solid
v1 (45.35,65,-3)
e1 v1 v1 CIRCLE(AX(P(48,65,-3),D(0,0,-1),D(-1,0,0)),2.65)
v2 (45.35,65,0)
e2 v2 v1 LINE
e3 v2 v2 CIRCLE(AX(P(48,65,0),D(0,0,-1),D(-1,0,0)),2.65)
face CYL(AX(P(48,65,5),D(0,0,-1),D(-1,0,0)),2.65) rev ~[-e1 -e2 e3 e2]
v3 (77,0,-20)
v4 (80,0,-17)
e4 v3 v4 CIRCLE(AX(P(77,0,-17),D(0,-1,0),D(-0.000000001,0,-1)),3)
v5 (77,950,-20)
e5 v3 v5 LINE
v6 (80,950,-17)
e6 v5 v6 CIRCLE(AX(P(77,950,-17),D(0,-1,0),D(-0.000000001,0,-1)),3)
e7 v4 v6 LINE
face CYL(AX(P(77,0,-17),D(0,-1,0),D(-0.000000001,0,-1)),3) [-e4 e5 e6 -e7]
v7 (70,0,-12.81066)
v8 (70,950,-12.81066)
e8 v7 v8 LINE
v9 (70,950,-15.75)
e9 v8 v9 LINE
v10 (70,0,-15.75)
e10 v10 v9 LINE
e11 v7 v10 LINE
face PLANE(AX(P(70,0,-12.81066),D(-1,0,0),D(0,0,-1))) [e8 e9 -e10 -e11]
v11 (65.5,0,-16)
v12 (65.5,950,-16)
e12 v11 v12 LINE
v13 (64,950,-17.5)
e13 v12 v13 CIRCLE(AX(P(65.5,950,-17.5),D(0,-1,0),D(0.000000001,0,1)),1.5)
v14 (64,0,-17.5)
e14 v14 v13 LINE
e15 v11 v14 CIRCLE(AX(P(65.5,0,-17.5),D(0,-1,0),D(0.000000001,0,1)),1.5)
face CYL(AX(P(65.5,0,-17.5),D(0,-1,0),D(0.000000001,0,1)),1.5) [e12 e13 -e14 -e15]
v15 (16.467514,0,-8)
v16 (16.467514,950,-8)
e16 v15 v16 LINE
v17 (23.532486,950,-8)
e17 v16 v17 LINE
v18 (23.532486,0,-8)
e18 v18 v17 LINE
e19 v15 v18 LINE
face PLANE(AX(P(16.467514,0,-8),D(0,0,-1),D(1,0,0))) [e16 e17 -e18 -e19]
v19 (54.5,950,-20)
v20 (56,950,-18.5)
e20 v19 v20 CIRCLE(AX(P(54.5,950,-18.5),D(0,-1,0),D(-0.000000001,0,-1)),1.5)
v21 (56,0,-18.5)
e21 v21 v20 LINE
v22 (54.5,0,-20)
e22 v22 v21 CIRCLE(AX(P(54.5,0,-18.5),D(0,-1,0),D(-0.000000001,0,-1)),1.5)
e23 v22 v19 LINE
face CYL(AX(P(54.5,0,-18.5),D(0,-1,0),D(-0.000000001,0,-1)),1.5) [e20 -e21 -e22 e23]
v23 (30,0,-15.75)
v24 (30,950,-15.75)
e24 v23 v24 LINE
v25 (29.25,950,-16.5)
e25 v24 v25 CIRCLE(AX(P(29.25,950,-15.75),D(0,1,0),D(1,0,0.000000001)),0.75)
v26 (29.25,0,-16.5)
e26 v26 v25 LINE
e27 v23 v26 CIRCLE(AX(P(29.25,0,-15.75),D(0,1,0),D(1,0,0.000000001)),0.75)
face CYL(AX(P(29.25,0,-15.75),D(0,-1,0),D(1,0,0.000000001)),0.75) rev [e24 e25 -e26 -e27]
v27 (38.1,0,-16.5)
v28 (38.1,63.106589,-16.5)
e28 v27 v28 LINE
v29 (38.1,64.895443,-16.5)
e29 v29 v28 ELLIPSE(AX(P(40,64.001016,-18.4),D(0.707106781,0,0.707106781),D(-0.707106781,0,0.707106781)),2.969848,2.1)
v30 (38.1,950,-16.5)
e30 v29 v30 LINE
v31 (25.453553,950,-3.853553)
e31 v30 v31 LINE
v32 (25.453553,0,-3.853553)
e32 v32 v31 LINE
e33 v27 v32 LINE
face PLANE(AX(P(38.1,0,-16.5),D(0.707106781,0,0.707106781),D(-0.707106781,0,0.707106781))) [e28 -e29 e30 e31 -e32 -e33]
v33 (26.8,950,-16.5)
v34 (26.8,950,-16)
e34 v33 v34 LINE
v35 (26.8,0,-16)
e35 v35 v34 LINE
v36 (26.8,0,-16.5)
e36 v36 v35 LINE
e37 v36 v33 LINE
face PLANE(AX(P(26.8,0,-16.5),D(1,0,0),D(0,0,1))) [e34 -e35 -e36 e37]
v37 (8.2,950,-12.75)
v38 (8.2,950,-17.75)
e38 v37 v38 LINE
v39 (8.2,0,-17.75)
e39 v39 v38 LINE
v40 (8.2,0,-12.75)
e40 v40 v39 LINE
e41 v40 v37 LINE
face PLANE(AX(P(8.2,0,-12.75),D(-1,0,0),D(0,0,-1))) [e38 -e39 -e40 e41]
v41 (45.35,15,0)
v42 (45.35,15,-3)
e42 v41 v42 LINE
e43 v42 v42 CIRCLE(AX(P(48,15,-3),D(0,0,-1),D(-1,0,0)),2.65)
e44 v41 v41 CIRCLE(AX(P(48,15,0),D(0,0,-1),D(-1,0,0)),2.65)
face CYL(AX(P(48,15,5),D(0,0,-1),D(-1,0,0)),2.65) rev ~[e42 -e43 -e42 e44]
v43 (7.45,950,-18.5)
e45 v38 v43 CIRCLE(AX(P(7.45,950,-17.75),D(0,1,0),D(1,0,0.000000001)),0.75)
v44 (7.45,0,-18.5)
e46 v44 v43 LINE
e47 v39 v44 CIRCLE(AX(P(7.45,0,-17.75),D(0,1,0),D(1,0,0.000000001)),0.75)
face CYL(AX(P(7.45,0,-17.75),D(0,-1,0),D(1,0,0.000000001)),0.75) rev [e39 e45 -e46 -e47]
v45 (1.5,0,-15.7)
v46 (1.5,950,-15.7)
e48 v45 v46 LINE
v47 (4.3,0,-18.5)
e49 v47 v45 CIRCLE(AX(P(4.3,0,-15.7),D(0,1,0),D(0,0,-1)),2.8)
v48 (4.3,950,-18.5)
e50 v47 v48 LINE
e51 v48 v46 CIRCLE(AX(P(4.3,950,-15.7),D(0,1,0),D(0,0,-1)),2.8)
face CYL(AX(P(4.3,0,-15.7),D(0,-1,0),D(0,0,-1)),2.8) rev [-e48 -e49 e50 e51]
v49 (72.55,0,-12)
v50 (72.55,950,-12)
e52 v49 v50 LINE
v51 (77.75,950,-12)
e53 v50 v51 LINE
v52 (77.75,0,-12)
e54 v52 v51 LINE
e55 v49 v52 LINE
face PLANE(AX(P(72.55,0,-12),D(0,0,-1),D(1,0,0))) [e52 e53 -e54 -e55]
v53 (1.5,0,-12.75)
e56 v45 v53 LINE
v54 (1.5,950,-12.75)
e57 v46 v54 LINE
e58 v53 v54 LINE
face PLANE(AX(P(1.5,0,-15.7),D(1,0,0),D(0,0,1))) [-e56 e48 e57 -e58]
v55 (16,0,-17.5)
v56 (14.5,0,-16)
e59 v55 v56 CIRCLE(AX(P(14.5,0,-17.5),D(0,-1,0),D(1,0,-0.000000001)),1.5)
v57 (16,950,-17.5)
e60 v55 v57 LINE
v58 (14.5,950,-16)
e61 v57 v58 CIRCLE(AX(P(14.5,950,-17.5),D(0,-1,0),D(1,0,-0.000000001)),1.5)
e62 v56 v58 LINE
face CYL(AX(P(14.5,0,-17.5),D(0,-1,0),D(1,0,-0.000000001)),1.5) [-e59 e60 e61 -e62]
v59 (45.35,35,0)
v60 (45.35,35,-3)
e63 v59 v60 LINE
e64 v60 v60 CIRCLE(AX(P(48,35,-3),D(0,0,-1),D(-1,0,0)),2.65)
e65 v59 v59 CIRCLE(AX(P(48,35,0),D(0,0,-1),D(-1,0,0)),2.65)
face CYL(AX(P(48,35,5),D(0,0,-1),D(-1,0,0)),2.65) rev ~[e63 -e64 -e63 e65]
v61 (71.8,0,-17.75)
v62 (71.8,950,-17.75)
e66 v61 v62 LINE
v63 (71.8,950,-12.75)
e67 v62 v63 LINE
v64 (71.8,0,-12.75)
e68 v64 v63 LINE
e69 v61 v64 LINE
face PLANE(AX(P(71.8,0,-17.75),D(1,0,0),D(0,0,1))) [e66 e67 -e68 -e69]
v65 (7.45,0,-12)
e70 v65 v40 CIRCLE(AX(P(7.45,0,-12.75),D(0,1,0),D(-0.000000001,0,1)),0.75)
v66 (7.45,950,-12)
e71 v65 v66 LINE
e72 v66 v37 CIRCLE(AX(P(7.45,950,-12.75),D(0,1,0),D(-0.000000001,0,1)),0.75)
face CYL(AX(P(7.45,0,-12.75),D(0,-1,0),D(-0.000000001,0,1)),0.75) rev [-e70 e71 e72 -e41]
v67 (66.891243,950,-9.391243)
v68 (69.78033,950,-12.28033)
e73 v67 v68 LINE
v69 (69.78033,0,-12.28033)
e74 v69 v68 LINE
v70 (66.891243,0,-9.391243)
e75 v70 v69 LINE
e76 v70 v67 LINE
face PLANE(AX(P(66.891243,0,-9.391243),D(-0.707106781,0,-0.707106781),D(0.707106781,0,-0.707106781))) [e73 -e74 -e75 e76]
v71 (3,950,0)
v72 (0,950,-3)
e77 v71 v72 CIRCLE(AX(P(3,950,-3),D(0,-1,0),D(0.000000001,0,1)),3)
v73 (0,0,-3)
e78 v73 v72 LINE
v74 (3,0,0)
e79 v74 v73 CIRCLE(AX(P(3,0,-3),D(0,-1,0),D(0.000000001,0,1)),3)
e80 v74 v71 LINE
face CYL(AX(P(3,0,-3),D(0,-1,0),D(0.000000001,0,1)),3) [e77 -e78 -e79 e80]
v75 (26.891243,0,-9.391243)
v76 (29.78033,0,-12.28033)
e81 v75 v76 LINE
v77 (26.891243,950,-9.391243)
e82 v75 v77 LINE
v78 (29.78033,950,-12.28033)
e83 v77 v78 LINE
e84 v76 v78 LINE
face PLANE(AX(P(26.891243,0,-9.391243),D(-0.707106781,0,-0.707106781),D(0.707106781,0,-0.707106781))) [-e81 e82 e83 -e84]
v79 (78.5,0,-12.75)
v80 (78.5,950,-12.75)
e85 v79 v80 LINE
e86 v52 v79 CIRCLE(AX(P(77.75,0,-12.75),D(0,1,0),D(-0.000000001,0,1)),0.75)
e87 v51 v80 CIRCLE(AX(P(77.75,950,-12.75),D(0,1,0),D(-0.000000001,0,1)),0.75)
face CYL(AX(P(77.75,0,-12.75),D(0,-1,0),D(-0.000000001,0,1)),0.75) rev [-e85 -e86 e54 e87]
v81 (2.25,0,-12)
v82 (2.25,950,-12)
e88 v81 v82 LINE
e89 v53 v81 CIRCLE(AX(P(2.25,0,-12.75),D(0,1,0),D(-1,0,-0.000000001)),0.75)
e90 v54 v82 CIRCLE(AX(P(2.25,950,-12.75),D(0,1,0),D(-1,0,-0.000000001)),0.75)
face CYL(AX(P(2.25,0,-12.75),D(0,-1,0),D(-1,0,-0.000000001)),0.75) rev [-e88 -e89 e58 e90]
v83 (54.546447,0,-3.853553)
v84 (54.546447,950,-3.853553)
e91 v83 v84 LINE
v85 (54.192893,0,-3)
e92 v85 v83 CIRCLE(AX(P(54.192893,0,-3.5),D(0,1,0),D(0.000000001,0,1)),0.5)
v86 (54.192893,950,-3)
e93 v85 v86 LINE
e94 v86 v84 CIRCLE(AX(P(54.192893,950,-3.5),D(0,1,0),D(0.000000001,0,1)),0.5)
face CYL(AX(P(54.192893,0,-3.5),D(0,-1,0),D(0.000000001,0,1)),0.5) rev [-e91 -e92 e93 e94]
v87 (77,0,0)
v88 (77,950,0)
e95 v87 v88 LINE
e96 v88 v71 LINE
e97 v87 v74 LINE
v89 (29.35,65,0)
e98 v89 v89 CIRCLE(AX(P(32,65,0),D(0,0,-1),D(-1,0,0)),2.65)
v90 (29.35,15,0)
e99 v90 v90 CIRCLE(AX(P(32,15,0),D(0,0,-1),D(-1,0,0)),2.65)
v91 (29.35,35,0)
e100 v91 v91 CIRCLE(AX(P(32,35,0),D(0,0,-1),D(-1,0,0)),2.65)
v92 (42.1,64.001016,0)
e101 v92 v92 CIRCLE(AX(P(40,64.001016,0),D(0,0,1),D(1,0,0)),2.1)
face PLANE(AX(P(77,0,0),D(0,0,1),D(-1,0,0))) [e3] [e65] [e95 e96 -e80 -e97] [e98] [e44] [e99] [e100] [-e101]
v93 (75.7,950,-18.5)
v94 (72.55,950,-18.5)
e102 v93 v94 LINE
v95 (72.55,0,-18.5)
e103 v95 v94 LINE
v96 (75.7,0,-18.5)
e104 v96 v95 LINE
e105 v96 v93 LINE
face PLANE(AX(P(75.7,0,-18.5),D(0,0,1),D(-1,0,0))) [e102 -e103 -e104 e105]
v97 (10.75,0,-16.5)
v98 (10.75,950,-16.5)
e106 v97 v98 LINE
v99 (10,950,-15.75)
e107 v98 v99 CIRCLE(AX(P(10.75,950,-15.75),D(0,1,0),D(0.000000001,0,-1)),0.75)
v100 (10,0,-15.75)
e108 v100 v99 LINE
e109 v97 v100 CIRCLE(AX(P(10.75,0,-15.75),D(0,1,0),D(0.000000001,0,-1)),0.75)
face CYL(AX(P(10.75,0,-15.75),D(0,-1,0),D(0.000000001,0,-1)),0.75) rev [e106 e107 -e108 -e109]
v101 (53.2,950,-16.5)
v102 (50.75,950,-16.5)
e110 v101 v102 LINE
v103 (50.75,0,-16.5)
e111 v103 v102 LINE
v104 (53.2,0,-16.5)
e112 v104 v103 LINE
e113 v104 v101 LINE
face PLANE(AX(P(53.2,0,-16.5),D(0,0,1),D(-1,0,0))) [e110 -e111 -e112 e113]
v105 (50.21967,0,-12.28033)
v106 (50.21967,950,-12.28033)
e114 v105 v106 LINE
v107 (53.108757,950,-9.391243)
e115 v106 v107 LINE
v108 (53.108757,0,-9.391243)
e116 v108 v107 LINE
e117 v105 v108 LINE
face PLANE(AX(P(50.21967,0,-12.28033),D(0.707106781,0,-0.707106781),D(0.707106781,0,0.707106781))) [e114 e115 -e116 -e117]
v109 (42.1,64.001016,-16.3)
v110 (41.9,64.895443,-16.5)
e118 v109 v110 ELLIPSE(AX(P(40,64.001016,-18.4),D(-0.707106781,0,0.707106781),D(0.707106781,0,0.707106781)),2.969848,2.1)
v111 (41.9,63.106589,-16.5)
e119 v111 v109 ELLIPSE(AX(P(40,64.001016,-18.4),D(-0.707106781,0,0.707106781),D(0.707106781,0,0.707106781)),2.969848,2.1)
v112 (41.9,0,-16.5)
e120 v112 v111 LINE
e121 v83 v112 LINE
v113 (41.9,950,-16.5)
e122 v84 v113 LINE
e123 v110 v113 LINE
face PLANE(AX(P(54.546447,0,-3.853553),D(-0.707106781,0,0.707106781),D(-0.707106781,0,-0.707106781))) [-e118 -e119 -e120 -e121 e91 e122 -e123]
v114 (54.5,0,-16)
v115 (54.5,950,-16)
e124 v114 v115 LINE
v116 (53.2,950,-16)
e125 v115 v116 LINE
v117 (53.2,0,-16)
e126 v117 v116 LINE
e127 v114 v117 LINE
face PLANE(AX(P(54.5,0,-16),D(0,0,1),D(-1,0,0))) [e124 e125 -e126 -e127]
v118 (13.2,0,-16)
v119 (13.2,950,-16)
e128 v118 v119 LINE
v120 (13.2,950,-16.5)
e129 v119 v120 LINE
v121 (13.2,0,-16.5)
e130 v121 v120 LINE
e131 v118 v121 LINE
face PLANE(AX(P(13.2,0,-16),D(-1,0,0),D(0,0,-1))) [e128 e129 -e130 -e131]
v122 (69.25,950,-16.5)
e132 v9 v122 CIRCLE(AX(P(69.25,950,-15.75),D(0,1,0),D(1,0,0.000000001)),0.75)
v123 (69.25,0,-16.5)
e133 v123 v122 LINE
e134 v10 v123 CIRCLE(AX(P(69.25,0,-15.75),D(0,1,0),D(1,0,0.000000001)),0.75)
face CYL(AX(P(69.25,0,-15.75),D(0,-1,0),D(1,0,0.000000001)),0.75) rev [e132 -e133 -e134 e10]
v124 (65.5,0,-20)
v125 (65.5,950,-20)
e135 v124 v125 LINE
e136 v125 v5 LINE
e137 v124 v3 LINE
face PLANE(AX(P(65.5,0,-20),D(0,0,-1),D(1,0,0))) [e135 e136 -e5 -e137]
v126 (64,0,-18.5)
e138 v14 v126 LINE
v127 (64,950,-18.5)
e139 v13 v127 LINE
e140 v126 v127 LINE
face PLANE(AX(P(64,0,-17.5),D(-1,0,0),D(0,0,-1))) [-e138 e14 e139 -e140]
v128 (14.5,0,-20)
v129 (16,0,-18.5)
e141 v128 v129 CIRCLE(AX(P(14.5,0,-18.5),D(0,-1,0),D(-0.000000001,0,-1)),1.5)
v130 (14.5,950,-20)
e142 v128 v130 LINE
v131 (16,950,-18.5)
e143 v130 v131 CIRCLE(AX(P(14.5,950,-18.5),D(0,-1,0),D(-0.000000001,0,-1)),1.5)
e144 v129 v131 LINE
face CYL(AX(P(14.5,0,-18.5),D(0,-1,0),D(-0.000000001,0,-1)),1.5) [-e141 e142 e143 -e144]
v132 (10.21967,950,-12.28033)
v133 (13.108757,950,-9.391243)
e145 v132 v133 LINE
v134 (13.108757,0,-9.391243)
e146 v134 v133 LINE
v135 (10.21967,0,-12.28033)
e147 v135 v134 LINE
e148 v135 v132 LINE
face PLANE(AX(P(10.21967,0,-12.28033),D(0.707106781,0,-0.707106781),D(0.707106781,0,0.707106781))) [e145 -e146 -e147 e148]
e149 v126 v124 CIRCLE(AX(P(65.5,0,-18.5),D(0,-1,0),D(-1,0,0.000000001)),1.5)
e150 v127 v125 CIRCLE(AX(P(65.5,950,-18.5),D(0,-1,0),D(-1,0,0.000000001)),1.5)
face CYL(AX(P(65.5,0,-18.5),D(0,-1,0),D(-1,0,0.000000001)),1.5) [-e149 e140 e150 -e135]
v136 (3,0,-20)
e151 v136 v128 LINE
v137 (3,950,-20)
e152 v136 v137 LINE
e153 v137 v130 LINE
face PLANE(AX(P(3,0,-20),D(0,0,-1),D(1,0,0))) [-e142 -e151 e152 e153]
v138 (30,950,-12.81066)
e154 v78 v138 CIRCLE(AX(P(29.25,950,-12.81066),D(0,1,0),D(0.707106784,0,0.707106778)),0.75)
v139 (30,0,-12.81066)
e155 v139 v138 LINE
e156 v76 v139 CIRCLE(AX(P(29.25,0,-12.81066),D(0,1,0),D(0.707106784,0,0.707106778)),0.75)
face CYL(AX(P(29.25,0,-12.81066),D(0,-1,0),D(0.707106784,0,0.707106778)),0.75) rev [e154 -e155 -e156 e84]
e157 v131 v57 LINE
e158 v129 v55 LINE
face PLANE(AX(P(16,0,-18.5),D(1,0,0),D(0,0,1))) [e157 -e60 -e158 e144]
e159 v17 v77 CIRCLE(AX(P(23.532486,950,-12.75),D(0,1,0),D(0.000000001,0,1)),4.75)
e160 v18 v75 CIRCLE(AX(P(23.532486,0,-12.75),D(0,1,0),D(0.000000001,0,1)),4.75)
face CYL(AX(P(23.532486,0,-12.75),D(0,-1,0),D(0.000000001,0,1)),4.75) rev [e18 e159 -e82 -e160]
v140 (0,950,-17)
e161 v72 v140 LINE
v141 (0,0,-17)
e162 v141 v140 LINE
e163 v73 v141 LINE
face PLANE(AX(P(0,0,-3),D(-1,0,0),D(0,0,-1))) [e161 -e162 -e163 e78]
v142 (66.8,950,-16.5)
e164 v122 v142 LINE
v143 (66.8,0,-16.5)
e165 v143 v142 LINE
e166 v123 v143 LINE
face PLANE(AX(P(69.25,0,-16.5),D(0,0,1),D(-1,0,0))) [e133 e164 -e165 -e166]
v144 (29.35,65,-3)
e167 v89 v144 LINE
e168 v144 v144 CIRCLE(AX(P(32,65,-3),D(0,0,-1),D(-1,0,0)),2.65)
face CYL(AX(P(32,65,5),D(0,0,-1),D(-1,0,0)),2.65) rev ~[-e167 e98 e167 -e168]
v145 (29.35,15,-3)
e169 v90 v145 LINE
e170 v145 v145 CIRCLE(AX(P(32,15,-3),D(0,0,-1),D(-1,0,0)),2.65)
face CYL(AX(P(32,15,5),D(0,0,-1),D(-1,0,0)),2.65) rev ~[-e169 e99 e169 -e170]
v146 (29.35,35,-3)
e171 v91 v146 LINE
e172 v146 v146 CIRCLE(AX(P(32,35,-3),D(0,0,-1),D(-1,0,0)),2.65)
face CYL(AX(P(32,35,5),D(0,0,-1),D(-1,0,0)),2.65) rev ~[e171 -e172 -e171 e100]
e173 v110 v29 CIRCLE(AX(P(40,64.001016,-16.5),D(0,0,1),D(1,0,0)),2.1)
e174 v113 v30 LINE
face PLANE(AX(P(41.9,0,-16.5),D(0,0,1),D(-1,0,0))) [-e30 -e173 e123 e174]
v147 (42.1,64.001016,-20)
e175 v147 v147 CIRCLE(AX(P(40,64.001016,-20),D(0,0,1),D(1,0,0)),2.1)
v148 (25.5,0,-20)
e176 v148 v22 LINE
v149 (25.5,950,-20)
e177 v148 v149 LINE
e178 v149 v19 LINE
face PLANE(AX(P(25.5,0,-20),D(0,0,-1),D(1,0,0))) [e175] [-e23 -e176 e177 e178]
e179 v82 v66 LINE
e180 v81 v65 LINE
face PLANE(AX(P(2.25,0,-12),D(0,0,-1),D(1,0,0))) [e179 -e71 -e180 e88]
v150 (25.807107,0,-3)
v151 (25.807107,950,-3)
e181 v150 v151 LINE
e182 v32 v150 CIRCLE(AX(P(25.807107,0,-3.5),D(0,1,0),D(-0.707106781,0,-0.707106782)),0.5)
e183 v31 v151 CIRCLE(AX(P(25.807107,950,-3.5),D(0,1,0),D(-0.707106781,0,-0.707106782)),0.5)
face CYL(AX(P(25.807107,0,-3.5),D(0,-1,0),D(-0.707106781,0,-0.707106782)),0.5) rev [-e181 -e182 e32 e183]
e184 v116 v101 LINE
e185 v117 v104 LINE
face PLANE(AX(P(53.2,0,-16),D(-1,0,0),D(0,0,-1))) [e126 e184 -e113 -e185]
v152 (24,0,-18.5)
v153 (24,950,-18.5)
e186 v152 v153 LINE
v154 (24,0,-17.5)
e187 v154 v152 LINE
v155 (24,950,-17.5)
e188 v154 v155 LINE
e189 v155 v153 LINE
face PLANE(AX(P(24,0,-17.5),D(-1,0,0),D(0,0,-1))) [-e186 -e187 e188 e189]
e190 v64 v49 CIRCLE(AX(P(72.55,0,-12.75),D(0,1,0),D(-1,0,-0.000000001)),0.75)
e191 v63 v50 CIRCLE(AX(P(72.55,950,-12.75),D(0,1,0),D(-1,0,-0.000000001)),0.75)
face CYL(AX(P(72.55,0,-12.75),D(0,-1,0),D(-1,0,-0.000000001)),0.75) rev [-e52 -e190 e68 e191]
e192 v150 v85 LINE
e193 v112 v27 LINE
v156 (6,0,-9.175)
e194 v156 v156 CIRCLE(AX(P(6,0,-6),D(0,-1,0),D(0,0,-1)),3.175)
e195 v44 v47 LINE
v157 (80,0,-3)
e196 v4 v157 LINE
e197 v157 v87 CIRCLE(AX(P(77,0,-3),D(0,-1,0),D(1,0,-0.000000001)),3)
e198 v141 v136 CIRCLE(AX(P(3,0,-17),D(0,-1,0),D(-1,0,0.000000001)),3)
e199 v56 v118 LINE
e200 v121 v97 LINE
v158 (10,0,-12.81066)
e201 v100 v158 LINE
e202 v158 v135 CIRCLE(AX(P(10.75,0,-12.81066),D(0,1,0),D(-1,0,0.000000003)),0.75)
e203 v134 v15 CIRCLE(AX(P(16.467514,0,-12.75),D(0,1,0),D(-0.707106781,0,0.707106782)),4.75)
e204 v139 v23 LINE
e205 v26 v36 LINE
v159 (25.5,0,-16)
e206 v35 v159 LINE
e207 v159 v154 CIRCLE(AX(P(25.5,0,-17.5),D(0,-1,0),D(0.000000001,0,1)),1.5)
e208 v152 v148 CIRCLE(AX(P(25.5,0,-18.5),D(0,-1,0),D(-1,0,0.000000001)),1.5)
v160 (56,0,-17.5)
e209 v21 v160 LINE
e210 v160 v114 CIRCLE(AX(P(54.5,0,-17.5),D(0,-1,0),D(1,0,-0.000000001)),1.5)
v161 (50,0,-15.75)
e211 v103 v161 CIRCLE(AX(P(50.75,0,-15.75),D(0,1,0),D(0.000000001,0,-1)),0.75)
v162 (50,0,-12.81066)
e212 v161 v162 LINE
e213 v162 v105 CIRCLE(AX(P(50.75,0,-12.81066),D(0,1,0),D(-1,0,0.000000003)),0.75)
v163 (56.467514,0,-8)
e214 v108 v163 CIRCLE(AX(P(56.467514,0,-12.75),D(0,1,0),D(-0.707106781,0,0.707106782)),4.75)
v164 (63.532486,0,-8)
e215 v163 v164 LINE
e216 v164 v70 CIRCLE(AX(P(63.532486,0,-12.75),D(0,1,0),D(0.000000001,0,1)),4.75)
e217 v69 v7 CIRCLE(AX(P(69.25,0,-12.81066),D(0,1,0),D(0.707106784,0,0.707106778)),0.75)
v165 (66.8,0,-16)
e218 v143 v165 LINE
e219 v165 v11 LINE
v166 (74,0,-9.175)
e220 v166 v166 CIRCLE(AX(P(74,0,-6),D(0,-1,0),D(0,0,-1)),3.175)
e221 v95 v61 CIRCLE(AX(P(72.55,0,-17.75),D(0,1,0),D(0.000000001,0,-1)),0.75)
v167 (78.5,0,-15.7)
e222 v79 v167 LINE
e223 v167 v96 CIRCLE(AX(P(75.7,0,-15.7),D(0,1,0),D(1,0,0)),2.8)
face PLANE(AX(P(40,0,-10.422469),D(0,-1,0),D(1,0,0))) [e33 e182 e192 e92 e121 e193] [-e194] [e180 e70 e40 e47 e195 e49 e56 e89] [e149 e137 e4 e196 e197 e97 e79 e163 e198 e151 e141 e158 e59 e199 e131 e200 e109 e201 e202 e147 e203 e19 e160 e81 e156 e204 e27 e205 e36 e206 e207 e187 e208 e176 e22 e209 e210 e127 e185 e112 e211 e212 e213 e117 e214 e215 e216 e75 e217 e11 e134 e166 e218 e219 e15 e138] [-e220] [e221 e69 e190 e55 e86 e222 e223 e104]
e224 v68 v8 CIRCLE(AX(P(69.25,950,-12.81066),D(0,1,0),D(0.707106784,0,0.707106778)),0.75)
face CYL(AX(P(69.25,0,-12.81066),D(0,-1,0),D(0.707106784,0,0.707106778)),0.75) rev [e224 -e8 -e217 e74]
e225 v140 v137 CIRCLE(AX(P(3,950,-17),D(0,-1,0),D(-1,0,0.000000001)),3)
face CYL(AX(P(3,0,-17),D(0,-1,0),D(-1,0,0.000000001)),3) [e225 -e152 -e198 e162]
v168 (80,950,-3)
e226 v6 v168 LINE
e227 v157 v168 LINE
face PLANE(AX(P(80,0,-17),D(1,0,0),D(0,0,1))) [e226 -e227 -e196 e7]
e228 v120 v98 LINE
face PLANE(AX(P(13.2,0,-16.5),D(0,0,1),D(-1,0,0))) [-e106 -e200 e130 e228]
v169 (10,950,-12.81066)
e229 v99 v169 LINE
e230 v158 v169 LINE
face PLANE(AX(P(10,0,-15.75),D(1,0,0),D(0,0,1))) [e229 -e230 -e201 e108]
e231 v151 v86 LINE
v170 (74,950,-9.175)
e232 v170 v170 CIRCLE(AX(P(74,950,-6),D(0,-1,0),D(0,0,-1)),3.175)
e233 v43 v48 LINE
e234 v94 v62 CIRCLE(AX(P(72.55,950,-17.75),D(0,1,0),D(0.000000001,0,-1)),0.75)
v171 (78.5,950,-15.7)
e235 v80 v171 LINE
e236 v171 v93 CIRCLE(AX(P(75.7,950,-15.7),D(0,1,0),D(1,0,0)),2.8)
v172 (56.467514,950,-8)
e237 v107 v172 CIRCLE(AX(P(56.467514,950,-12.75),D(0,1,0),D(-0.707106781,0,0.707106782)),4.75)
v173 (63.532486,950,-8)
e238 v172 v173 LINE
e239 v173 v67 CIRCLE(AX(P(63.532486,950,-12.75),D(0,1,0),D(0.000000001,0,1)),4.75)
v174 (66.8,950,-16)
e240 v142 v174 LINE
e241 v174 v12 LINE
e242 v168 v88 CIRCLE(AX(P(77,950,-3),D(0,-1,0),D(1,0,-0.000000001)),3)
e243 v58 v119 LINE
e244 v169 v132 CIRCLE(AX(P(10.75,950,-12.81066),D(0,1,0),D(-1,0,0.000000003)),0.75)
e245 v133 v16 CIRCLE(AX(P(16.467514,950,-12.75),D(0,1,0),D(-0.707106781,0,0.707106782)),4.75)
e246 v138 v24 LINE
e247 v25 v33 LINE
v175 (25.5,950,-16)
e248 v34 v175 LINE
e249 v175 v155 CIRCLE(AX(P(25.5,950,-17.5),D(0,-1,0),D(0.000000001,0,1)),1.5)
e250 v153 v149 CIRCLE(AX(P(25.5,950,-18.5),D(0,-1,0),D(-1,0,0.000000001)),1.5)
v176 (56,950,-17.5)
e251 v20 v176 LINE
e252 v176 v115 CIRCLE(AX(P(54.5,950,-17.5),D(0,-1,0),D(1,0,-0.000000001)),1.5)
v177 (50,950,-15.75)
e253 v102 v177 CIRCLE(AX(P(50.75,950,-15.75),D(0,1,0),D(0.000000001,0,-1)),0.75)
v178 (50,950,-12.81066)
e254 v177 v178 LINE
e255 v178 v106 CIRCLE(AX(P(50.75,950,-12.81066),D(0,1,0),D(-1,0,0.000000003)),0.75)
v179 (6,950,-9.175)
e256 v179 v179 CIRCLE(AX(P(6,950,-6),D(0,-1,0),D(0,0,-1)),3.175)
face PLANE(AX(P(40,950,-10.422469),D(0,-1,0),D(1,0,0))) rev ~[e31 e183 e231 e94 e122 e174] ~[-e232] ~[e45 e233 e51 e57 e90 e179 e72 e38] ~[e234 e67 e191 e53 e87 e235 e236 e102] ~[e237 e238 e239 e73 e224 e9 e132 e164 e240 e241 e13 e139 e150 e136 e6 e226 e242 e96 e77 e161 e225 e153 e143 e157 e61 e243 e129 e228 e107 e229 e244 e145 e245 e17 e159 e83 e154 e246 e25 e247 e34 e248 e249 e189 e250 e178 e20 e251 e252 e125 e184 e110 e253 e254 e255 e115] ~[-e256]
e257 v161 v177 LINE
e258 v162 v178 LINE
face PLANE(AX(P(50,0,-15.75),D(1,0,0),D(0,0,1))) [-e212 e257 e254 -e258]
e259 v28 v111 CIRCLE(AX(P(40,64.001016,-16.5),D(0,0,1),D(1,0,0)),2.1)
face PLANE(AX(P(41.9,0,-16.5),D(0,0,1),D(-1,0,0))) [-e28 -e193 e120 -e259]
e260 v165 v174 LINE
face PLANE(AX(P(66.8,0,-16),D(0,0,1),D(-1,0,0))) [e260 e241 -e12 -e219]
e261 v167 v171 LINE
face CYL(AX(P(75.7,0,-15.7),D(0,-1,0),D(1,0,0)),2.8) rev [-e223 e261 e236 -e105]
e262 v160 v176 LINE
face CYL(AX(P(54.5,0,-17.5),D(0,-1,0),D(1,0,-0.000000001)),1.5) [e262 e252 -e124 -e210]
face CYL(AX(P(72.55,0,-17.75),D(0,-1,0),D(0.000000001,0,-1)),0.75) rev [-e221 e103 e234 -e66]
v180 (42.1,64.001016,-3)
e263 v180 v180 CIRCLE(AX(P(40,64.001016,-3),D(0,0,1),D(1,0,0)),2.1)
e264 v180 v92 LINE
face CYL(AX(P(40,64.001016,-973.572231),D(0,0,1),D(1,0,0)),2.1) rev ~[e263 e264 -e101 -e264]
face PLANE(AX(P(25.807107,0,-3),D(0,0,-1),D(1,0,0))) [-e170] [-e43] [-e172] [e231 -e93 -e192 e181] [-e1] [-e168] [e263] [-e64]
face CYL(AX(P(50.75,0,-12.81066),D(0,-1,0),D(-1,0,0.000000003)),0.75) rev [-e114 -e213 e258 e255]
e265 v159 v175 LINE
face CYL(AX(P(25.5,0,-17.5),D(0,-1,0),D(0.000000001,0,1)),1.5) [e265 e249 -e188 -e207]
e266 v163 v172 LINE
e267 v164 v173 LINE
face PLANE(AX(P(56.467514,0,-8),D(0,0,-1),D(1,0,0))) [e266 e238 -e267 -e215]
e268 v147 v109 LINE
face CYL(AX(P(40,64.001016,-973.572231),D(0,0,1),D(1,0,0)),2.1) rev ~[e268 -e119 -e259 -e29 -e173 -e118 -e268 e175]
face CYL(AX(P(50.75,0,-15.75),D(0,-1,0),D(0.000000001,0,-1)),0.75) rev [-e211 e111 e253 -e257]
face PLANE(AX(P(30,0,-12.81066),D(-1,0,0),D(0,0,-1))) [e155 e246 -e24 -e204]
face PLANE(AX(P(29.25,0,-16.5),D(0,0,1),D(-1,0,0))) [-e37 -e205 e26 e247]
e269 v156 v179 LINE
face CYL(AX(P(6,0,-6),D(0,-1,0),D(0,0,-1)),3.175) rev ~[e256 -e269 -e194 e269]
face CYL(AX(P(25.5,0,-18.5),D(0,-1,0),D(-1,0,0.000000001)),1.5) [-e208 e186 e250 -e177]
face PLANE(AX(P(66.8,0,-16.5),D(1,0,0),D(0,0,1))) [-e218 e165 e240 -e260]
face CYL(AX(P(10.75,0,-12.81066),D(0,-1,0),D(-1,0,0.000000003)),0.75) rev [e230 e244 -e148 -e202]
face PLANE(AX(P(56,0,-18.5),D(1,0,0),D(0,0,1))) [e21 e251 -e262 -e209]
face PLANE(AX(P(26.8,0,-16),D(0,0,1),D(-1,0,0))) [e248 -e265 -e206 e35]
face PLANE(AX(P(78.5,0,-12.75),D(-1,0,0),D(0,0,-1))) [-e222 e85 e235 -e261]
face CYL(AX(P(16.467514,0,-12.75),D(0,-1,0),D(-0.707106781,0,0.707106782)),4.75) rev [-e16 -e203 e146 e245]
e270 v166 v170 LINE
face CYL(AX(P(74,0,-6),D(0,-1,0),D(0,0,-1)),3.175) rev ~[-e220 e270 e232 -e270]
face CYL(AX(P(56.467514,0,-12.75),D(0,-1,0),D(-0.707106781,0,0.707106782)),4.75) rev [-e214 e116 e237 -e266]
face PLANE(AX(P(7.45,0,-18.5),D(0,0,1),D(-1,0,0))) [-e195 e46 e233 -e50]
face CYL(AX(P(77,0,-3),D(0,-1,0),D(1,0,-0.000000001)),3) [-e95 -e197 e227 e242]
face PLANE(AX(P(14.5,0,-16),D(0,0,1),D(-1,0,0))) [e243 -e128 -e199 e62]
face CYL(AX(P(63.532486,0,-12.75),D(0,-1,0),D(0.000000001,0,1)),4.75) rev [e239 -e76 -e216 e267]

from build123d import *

# Parameters (mm, degrees)
SKETCH1_R                = 3.175
BOSS_EXTRUDE1_DEPTH      = 950
M5_CLEARANCE_HOLE1_D     = 5.3
M5_CLEARANCE_HOLE1_DEPTH = 5
M5_CLEARANCE_HOLE1_TIP   = 1.59228064
M5X0_8_TAPPED_HOLE1_D    = 4.2


with BuildPart() as part:
    # Sketch1 → Boss-Extrude1 (new body)
    with BuildSketch(Plane.XZ):
        with BuildLine():
            Line((77, 0), (3, 0))
            ThreePointArc((3, 0), (0.878679656, -0.878679656), (0, -3))
            Line((0, -3), (0, -17))
            ThreePointArc((0, -17), (0.878679656, -19.121320344), (3, -20))
            Line((3, -20), (14.5, -20))
            ThreePointArc((14.5, -20), (15.560660172, -19.560660172), (16, -18.5))
            Line((16, -18.5), (16, -17.5))
            ThreePointArc((16, -17.5), (15.560660172, -16.439339828), (14.5, -16))
            Line((14.5, -16), (13.2, -16))
            Line((13.2, -16), (13.2, -16.5))
            Line((13.2, -16.5), (10.75, -16.5))
            ThreePointArc((10.75, -16.5), (10.219669914, -16.280330086), (10, -15.75))
            Line((10, -15.75), (10, -12.810660172))
            ThreePointArc((10, -12.810660172), (10.057090351, -12.523647598), (10.219669914, -12.280330086))
            Line((10.219669914, -12.280330086), (13.108757211, -9.391242789))
            ThreePointArc((13.108757211, -9.391242789), (14.649768118, -8.361572221), (16.467514421, -8))
            Line((16.467514421, -8), (23.532485579, -8))
            ThreePointArc((23.532485579, -8), (25.350231882, -8.361572221), (26.891242789, -9.391242789))
            Line((26.891242789, -9.391242789), (29.780330086, -12.280330086))
            ThreePointArc((29.780330086, -12.280330086), (29.942909649, -12.523647598), (30, -12.810660172))
            Line((30, -12.810660172), (30, -15.75))
            ThreePointArc((30, -15.75), (29.780330086, -16.280330086), (29.25, -16.5))
            Line((29.25, -16.5), (26.8, -16.5))
            Line((26.8, -16.5), (26.8, -16))
            Line((26.8, -16), (25.5, -16))
            ThreePointArc((25.5, -16), (24.439339828, -16.439339828), (24, -17.5))
            Line((24, -17.5), (24, -18.5))
            ThreePointArc((24, -18.5), (24.439339828, -19.560660172), (25.5, -20))
            Line((25.5, -20), (54.5, -20))
            ThreePointArc((54.5, -20), (55.560660172, -19.560660172), (56, -18.5))
            Line((56, -18.5), (56, -17.5))
            ThreePointArc((56, -17.5), (55.560660172, -16.439339828), (54.5, -16))
            Line((54.5, -16), (53.2, -16))
            Line((53.2, -16), (53.2, -16.5))
            Line((53.2, -16.5), (50.75, -16.5))
            ThreePointArc((50.75, -16.5), (50.219669914, -16.280330086), (50, -15.75))
            Line((50, -15.75), (50, -12.810660172))
            ThreePointArc((50, -12.810660172), (50.057090351, -12.523647598), (50.219669914, -12.280330086))
            Line((50.219669914, -12.280330086), (53.108757211, -9.391242789))
            ThreePointArc((53.108757211, -9.391242789), (54.649768118, -8.361572221), (56.467514421, -8))
            Line((56.467514421, -8), (63.532485579, -8))
            ThreePointArc((63.532485579, -8), (65.350231882, -8.361572221), (66.891242789, -9.391242789))
            Line((66.891242789, -9.391242789), (69.780330086, -12.280330086))
            ThreePointArc((69.780330086, -12.280330086), (69.942909649, -12.523647598), (70, -12.810660172))
            Line((70, -12.810660172), (70, -15.75))
            ThreePointArc((70, -15.75), (69.780330086, -16.280330086), (69.25, -16.5))
            Line((69.25, -16.5), (66.8, -16.5))
            Line((66.8, -16.5), (66.8, -16))
            Line((66.8, -16), (65.5, -16))
            ThreePointArc((65.5, -16), (64.439339828, -16.439339828), (64, -17.5))
            Line((64, -17.5), (64, -18.5))
            ThreePointArc((64, -18.5), (64.439339828, -19.560660172), (65.5, -20))
            Line((65.5, -20), (77, -20))
            ThreePointArc((77, -20), (79.121320344, -19.121320344), (80, -17))
            Line((80, -17), (80, -3))
            ThreePointArc((80, -3), (79.121320344, -0.878679656), (77, 0))
        make_face()
        with Locations(Location((6, -6, 0), (0, 0, 270))):
            Circle(SKETCH1_R, mode=Mode.SUBTRACT)
        with Locations(Location((74, -6, 0), (0, 0, 270))):
            Circle(SKETCH1_R, mode=Mode.SUBTRACT)
        with BuildLine():
            Line((7.45, -18.5), (4.3, -18.5))
            ThreePointArc((4.3, -18.5), (2.320101013, -17.679898987), (1.5, -15.7))
            Line((1.5, -15.7), (1.5, -12.75))
            ThreePointArc((1.5, -12.75), (1.719669914, -12.219669914), (2.25, -12))
            Line((2.25, -12), (7.45, -12))
            ThreePointArc((7.45, -12), (7.980330086, -12.219669914), (8.2, -12.75))
            Line((8.2, -12.75), (8.2, -17.75))
            ThreePointArc((8.2, -17.75), (7.980330086, -18.280330086), (7.45, -18.5))
        make_face(mode=Mode.SUBTRACT)
        with BuildLine():
            Line((54.546446609, -3.853553391), (41.9, -16.5))
            Line((41.9, -16.5), (38.1, -16.5))
            Line((38.1, -16.5), (25.453553391, -3.853553391))
            ThreePointArc((25.453553391, -3.853553391), (25.345167015, -3.308658284), (25.807106781, -3))
            Line((25.807106781, -3), (54.192893219, -3))
            ThreePointArc((54.192893219, -3), (54.654832985, -3.308658284), (54.546446609, -3.853553391))
        make_face(mode=Mode.SUBTRACT)
        with BuildLine():
            Line((71.8, -17.75), (71.8, -12.75))
            ThreePointArc((71.8, -12.75), (72.019669914, -12.219669914), (72.55, -12))
            Line((72.55, -12), (77.75, -12))
            ThreePointArc((77.75, -12), (78.280330086, -12.219669914), (78.5, -12.75))
            Line((78.5, -12.75), (78.5, -15.7))
            ThreePointArc((78.5, -15.7), (77.679898987, -17.679898987), (75.7, -18.5))
            Line((75.7, -18.5), (72.55, -18.5))
            ThreePointArc((72.55, -18.5), (72.019669914, -18.280330086), (71.8, -17.75))
        make_face(mode=Mode.SUBTRACT)
    extrude(amount=-BOSS_EXTRUDE1_DEPTH)

    # M5 Clearance Hole1
    with Locations(Plane.XY):
        with Locations((48, 15), (48, 35), (48, 65), (32, 65), (32, 35), (32, 15)):
            Hole(M5_CLEARANCE_HOLE1_D / 2, depth=M5_CLEARANCE_HOLE1_DEPTH)
            with Locations((0, 0, -(M5_CLEARANCE_HOLE1_DEPTH + M5_CLEARANCE_HOLE1_TIP / 2))):  # 118° drill point
                Cone(0, M5_CLEARANCE_HOLE1_D / 2, M5_CLEARANCE_HOLE1_TIP, mode=Mode.SUBTRACT)

    # M5x0.8 Tapped Hole1 (through all)
    with Locations(Plane(origin=(0, 0, -20), x_dir=(-1, 0, 0), z_dir=(0, 0, -1))):
        with Locations((-40, 64.001015899)):
            Hole(M5X0_8_TAPPED_HOLE1_D / 2)


solid = part.part
